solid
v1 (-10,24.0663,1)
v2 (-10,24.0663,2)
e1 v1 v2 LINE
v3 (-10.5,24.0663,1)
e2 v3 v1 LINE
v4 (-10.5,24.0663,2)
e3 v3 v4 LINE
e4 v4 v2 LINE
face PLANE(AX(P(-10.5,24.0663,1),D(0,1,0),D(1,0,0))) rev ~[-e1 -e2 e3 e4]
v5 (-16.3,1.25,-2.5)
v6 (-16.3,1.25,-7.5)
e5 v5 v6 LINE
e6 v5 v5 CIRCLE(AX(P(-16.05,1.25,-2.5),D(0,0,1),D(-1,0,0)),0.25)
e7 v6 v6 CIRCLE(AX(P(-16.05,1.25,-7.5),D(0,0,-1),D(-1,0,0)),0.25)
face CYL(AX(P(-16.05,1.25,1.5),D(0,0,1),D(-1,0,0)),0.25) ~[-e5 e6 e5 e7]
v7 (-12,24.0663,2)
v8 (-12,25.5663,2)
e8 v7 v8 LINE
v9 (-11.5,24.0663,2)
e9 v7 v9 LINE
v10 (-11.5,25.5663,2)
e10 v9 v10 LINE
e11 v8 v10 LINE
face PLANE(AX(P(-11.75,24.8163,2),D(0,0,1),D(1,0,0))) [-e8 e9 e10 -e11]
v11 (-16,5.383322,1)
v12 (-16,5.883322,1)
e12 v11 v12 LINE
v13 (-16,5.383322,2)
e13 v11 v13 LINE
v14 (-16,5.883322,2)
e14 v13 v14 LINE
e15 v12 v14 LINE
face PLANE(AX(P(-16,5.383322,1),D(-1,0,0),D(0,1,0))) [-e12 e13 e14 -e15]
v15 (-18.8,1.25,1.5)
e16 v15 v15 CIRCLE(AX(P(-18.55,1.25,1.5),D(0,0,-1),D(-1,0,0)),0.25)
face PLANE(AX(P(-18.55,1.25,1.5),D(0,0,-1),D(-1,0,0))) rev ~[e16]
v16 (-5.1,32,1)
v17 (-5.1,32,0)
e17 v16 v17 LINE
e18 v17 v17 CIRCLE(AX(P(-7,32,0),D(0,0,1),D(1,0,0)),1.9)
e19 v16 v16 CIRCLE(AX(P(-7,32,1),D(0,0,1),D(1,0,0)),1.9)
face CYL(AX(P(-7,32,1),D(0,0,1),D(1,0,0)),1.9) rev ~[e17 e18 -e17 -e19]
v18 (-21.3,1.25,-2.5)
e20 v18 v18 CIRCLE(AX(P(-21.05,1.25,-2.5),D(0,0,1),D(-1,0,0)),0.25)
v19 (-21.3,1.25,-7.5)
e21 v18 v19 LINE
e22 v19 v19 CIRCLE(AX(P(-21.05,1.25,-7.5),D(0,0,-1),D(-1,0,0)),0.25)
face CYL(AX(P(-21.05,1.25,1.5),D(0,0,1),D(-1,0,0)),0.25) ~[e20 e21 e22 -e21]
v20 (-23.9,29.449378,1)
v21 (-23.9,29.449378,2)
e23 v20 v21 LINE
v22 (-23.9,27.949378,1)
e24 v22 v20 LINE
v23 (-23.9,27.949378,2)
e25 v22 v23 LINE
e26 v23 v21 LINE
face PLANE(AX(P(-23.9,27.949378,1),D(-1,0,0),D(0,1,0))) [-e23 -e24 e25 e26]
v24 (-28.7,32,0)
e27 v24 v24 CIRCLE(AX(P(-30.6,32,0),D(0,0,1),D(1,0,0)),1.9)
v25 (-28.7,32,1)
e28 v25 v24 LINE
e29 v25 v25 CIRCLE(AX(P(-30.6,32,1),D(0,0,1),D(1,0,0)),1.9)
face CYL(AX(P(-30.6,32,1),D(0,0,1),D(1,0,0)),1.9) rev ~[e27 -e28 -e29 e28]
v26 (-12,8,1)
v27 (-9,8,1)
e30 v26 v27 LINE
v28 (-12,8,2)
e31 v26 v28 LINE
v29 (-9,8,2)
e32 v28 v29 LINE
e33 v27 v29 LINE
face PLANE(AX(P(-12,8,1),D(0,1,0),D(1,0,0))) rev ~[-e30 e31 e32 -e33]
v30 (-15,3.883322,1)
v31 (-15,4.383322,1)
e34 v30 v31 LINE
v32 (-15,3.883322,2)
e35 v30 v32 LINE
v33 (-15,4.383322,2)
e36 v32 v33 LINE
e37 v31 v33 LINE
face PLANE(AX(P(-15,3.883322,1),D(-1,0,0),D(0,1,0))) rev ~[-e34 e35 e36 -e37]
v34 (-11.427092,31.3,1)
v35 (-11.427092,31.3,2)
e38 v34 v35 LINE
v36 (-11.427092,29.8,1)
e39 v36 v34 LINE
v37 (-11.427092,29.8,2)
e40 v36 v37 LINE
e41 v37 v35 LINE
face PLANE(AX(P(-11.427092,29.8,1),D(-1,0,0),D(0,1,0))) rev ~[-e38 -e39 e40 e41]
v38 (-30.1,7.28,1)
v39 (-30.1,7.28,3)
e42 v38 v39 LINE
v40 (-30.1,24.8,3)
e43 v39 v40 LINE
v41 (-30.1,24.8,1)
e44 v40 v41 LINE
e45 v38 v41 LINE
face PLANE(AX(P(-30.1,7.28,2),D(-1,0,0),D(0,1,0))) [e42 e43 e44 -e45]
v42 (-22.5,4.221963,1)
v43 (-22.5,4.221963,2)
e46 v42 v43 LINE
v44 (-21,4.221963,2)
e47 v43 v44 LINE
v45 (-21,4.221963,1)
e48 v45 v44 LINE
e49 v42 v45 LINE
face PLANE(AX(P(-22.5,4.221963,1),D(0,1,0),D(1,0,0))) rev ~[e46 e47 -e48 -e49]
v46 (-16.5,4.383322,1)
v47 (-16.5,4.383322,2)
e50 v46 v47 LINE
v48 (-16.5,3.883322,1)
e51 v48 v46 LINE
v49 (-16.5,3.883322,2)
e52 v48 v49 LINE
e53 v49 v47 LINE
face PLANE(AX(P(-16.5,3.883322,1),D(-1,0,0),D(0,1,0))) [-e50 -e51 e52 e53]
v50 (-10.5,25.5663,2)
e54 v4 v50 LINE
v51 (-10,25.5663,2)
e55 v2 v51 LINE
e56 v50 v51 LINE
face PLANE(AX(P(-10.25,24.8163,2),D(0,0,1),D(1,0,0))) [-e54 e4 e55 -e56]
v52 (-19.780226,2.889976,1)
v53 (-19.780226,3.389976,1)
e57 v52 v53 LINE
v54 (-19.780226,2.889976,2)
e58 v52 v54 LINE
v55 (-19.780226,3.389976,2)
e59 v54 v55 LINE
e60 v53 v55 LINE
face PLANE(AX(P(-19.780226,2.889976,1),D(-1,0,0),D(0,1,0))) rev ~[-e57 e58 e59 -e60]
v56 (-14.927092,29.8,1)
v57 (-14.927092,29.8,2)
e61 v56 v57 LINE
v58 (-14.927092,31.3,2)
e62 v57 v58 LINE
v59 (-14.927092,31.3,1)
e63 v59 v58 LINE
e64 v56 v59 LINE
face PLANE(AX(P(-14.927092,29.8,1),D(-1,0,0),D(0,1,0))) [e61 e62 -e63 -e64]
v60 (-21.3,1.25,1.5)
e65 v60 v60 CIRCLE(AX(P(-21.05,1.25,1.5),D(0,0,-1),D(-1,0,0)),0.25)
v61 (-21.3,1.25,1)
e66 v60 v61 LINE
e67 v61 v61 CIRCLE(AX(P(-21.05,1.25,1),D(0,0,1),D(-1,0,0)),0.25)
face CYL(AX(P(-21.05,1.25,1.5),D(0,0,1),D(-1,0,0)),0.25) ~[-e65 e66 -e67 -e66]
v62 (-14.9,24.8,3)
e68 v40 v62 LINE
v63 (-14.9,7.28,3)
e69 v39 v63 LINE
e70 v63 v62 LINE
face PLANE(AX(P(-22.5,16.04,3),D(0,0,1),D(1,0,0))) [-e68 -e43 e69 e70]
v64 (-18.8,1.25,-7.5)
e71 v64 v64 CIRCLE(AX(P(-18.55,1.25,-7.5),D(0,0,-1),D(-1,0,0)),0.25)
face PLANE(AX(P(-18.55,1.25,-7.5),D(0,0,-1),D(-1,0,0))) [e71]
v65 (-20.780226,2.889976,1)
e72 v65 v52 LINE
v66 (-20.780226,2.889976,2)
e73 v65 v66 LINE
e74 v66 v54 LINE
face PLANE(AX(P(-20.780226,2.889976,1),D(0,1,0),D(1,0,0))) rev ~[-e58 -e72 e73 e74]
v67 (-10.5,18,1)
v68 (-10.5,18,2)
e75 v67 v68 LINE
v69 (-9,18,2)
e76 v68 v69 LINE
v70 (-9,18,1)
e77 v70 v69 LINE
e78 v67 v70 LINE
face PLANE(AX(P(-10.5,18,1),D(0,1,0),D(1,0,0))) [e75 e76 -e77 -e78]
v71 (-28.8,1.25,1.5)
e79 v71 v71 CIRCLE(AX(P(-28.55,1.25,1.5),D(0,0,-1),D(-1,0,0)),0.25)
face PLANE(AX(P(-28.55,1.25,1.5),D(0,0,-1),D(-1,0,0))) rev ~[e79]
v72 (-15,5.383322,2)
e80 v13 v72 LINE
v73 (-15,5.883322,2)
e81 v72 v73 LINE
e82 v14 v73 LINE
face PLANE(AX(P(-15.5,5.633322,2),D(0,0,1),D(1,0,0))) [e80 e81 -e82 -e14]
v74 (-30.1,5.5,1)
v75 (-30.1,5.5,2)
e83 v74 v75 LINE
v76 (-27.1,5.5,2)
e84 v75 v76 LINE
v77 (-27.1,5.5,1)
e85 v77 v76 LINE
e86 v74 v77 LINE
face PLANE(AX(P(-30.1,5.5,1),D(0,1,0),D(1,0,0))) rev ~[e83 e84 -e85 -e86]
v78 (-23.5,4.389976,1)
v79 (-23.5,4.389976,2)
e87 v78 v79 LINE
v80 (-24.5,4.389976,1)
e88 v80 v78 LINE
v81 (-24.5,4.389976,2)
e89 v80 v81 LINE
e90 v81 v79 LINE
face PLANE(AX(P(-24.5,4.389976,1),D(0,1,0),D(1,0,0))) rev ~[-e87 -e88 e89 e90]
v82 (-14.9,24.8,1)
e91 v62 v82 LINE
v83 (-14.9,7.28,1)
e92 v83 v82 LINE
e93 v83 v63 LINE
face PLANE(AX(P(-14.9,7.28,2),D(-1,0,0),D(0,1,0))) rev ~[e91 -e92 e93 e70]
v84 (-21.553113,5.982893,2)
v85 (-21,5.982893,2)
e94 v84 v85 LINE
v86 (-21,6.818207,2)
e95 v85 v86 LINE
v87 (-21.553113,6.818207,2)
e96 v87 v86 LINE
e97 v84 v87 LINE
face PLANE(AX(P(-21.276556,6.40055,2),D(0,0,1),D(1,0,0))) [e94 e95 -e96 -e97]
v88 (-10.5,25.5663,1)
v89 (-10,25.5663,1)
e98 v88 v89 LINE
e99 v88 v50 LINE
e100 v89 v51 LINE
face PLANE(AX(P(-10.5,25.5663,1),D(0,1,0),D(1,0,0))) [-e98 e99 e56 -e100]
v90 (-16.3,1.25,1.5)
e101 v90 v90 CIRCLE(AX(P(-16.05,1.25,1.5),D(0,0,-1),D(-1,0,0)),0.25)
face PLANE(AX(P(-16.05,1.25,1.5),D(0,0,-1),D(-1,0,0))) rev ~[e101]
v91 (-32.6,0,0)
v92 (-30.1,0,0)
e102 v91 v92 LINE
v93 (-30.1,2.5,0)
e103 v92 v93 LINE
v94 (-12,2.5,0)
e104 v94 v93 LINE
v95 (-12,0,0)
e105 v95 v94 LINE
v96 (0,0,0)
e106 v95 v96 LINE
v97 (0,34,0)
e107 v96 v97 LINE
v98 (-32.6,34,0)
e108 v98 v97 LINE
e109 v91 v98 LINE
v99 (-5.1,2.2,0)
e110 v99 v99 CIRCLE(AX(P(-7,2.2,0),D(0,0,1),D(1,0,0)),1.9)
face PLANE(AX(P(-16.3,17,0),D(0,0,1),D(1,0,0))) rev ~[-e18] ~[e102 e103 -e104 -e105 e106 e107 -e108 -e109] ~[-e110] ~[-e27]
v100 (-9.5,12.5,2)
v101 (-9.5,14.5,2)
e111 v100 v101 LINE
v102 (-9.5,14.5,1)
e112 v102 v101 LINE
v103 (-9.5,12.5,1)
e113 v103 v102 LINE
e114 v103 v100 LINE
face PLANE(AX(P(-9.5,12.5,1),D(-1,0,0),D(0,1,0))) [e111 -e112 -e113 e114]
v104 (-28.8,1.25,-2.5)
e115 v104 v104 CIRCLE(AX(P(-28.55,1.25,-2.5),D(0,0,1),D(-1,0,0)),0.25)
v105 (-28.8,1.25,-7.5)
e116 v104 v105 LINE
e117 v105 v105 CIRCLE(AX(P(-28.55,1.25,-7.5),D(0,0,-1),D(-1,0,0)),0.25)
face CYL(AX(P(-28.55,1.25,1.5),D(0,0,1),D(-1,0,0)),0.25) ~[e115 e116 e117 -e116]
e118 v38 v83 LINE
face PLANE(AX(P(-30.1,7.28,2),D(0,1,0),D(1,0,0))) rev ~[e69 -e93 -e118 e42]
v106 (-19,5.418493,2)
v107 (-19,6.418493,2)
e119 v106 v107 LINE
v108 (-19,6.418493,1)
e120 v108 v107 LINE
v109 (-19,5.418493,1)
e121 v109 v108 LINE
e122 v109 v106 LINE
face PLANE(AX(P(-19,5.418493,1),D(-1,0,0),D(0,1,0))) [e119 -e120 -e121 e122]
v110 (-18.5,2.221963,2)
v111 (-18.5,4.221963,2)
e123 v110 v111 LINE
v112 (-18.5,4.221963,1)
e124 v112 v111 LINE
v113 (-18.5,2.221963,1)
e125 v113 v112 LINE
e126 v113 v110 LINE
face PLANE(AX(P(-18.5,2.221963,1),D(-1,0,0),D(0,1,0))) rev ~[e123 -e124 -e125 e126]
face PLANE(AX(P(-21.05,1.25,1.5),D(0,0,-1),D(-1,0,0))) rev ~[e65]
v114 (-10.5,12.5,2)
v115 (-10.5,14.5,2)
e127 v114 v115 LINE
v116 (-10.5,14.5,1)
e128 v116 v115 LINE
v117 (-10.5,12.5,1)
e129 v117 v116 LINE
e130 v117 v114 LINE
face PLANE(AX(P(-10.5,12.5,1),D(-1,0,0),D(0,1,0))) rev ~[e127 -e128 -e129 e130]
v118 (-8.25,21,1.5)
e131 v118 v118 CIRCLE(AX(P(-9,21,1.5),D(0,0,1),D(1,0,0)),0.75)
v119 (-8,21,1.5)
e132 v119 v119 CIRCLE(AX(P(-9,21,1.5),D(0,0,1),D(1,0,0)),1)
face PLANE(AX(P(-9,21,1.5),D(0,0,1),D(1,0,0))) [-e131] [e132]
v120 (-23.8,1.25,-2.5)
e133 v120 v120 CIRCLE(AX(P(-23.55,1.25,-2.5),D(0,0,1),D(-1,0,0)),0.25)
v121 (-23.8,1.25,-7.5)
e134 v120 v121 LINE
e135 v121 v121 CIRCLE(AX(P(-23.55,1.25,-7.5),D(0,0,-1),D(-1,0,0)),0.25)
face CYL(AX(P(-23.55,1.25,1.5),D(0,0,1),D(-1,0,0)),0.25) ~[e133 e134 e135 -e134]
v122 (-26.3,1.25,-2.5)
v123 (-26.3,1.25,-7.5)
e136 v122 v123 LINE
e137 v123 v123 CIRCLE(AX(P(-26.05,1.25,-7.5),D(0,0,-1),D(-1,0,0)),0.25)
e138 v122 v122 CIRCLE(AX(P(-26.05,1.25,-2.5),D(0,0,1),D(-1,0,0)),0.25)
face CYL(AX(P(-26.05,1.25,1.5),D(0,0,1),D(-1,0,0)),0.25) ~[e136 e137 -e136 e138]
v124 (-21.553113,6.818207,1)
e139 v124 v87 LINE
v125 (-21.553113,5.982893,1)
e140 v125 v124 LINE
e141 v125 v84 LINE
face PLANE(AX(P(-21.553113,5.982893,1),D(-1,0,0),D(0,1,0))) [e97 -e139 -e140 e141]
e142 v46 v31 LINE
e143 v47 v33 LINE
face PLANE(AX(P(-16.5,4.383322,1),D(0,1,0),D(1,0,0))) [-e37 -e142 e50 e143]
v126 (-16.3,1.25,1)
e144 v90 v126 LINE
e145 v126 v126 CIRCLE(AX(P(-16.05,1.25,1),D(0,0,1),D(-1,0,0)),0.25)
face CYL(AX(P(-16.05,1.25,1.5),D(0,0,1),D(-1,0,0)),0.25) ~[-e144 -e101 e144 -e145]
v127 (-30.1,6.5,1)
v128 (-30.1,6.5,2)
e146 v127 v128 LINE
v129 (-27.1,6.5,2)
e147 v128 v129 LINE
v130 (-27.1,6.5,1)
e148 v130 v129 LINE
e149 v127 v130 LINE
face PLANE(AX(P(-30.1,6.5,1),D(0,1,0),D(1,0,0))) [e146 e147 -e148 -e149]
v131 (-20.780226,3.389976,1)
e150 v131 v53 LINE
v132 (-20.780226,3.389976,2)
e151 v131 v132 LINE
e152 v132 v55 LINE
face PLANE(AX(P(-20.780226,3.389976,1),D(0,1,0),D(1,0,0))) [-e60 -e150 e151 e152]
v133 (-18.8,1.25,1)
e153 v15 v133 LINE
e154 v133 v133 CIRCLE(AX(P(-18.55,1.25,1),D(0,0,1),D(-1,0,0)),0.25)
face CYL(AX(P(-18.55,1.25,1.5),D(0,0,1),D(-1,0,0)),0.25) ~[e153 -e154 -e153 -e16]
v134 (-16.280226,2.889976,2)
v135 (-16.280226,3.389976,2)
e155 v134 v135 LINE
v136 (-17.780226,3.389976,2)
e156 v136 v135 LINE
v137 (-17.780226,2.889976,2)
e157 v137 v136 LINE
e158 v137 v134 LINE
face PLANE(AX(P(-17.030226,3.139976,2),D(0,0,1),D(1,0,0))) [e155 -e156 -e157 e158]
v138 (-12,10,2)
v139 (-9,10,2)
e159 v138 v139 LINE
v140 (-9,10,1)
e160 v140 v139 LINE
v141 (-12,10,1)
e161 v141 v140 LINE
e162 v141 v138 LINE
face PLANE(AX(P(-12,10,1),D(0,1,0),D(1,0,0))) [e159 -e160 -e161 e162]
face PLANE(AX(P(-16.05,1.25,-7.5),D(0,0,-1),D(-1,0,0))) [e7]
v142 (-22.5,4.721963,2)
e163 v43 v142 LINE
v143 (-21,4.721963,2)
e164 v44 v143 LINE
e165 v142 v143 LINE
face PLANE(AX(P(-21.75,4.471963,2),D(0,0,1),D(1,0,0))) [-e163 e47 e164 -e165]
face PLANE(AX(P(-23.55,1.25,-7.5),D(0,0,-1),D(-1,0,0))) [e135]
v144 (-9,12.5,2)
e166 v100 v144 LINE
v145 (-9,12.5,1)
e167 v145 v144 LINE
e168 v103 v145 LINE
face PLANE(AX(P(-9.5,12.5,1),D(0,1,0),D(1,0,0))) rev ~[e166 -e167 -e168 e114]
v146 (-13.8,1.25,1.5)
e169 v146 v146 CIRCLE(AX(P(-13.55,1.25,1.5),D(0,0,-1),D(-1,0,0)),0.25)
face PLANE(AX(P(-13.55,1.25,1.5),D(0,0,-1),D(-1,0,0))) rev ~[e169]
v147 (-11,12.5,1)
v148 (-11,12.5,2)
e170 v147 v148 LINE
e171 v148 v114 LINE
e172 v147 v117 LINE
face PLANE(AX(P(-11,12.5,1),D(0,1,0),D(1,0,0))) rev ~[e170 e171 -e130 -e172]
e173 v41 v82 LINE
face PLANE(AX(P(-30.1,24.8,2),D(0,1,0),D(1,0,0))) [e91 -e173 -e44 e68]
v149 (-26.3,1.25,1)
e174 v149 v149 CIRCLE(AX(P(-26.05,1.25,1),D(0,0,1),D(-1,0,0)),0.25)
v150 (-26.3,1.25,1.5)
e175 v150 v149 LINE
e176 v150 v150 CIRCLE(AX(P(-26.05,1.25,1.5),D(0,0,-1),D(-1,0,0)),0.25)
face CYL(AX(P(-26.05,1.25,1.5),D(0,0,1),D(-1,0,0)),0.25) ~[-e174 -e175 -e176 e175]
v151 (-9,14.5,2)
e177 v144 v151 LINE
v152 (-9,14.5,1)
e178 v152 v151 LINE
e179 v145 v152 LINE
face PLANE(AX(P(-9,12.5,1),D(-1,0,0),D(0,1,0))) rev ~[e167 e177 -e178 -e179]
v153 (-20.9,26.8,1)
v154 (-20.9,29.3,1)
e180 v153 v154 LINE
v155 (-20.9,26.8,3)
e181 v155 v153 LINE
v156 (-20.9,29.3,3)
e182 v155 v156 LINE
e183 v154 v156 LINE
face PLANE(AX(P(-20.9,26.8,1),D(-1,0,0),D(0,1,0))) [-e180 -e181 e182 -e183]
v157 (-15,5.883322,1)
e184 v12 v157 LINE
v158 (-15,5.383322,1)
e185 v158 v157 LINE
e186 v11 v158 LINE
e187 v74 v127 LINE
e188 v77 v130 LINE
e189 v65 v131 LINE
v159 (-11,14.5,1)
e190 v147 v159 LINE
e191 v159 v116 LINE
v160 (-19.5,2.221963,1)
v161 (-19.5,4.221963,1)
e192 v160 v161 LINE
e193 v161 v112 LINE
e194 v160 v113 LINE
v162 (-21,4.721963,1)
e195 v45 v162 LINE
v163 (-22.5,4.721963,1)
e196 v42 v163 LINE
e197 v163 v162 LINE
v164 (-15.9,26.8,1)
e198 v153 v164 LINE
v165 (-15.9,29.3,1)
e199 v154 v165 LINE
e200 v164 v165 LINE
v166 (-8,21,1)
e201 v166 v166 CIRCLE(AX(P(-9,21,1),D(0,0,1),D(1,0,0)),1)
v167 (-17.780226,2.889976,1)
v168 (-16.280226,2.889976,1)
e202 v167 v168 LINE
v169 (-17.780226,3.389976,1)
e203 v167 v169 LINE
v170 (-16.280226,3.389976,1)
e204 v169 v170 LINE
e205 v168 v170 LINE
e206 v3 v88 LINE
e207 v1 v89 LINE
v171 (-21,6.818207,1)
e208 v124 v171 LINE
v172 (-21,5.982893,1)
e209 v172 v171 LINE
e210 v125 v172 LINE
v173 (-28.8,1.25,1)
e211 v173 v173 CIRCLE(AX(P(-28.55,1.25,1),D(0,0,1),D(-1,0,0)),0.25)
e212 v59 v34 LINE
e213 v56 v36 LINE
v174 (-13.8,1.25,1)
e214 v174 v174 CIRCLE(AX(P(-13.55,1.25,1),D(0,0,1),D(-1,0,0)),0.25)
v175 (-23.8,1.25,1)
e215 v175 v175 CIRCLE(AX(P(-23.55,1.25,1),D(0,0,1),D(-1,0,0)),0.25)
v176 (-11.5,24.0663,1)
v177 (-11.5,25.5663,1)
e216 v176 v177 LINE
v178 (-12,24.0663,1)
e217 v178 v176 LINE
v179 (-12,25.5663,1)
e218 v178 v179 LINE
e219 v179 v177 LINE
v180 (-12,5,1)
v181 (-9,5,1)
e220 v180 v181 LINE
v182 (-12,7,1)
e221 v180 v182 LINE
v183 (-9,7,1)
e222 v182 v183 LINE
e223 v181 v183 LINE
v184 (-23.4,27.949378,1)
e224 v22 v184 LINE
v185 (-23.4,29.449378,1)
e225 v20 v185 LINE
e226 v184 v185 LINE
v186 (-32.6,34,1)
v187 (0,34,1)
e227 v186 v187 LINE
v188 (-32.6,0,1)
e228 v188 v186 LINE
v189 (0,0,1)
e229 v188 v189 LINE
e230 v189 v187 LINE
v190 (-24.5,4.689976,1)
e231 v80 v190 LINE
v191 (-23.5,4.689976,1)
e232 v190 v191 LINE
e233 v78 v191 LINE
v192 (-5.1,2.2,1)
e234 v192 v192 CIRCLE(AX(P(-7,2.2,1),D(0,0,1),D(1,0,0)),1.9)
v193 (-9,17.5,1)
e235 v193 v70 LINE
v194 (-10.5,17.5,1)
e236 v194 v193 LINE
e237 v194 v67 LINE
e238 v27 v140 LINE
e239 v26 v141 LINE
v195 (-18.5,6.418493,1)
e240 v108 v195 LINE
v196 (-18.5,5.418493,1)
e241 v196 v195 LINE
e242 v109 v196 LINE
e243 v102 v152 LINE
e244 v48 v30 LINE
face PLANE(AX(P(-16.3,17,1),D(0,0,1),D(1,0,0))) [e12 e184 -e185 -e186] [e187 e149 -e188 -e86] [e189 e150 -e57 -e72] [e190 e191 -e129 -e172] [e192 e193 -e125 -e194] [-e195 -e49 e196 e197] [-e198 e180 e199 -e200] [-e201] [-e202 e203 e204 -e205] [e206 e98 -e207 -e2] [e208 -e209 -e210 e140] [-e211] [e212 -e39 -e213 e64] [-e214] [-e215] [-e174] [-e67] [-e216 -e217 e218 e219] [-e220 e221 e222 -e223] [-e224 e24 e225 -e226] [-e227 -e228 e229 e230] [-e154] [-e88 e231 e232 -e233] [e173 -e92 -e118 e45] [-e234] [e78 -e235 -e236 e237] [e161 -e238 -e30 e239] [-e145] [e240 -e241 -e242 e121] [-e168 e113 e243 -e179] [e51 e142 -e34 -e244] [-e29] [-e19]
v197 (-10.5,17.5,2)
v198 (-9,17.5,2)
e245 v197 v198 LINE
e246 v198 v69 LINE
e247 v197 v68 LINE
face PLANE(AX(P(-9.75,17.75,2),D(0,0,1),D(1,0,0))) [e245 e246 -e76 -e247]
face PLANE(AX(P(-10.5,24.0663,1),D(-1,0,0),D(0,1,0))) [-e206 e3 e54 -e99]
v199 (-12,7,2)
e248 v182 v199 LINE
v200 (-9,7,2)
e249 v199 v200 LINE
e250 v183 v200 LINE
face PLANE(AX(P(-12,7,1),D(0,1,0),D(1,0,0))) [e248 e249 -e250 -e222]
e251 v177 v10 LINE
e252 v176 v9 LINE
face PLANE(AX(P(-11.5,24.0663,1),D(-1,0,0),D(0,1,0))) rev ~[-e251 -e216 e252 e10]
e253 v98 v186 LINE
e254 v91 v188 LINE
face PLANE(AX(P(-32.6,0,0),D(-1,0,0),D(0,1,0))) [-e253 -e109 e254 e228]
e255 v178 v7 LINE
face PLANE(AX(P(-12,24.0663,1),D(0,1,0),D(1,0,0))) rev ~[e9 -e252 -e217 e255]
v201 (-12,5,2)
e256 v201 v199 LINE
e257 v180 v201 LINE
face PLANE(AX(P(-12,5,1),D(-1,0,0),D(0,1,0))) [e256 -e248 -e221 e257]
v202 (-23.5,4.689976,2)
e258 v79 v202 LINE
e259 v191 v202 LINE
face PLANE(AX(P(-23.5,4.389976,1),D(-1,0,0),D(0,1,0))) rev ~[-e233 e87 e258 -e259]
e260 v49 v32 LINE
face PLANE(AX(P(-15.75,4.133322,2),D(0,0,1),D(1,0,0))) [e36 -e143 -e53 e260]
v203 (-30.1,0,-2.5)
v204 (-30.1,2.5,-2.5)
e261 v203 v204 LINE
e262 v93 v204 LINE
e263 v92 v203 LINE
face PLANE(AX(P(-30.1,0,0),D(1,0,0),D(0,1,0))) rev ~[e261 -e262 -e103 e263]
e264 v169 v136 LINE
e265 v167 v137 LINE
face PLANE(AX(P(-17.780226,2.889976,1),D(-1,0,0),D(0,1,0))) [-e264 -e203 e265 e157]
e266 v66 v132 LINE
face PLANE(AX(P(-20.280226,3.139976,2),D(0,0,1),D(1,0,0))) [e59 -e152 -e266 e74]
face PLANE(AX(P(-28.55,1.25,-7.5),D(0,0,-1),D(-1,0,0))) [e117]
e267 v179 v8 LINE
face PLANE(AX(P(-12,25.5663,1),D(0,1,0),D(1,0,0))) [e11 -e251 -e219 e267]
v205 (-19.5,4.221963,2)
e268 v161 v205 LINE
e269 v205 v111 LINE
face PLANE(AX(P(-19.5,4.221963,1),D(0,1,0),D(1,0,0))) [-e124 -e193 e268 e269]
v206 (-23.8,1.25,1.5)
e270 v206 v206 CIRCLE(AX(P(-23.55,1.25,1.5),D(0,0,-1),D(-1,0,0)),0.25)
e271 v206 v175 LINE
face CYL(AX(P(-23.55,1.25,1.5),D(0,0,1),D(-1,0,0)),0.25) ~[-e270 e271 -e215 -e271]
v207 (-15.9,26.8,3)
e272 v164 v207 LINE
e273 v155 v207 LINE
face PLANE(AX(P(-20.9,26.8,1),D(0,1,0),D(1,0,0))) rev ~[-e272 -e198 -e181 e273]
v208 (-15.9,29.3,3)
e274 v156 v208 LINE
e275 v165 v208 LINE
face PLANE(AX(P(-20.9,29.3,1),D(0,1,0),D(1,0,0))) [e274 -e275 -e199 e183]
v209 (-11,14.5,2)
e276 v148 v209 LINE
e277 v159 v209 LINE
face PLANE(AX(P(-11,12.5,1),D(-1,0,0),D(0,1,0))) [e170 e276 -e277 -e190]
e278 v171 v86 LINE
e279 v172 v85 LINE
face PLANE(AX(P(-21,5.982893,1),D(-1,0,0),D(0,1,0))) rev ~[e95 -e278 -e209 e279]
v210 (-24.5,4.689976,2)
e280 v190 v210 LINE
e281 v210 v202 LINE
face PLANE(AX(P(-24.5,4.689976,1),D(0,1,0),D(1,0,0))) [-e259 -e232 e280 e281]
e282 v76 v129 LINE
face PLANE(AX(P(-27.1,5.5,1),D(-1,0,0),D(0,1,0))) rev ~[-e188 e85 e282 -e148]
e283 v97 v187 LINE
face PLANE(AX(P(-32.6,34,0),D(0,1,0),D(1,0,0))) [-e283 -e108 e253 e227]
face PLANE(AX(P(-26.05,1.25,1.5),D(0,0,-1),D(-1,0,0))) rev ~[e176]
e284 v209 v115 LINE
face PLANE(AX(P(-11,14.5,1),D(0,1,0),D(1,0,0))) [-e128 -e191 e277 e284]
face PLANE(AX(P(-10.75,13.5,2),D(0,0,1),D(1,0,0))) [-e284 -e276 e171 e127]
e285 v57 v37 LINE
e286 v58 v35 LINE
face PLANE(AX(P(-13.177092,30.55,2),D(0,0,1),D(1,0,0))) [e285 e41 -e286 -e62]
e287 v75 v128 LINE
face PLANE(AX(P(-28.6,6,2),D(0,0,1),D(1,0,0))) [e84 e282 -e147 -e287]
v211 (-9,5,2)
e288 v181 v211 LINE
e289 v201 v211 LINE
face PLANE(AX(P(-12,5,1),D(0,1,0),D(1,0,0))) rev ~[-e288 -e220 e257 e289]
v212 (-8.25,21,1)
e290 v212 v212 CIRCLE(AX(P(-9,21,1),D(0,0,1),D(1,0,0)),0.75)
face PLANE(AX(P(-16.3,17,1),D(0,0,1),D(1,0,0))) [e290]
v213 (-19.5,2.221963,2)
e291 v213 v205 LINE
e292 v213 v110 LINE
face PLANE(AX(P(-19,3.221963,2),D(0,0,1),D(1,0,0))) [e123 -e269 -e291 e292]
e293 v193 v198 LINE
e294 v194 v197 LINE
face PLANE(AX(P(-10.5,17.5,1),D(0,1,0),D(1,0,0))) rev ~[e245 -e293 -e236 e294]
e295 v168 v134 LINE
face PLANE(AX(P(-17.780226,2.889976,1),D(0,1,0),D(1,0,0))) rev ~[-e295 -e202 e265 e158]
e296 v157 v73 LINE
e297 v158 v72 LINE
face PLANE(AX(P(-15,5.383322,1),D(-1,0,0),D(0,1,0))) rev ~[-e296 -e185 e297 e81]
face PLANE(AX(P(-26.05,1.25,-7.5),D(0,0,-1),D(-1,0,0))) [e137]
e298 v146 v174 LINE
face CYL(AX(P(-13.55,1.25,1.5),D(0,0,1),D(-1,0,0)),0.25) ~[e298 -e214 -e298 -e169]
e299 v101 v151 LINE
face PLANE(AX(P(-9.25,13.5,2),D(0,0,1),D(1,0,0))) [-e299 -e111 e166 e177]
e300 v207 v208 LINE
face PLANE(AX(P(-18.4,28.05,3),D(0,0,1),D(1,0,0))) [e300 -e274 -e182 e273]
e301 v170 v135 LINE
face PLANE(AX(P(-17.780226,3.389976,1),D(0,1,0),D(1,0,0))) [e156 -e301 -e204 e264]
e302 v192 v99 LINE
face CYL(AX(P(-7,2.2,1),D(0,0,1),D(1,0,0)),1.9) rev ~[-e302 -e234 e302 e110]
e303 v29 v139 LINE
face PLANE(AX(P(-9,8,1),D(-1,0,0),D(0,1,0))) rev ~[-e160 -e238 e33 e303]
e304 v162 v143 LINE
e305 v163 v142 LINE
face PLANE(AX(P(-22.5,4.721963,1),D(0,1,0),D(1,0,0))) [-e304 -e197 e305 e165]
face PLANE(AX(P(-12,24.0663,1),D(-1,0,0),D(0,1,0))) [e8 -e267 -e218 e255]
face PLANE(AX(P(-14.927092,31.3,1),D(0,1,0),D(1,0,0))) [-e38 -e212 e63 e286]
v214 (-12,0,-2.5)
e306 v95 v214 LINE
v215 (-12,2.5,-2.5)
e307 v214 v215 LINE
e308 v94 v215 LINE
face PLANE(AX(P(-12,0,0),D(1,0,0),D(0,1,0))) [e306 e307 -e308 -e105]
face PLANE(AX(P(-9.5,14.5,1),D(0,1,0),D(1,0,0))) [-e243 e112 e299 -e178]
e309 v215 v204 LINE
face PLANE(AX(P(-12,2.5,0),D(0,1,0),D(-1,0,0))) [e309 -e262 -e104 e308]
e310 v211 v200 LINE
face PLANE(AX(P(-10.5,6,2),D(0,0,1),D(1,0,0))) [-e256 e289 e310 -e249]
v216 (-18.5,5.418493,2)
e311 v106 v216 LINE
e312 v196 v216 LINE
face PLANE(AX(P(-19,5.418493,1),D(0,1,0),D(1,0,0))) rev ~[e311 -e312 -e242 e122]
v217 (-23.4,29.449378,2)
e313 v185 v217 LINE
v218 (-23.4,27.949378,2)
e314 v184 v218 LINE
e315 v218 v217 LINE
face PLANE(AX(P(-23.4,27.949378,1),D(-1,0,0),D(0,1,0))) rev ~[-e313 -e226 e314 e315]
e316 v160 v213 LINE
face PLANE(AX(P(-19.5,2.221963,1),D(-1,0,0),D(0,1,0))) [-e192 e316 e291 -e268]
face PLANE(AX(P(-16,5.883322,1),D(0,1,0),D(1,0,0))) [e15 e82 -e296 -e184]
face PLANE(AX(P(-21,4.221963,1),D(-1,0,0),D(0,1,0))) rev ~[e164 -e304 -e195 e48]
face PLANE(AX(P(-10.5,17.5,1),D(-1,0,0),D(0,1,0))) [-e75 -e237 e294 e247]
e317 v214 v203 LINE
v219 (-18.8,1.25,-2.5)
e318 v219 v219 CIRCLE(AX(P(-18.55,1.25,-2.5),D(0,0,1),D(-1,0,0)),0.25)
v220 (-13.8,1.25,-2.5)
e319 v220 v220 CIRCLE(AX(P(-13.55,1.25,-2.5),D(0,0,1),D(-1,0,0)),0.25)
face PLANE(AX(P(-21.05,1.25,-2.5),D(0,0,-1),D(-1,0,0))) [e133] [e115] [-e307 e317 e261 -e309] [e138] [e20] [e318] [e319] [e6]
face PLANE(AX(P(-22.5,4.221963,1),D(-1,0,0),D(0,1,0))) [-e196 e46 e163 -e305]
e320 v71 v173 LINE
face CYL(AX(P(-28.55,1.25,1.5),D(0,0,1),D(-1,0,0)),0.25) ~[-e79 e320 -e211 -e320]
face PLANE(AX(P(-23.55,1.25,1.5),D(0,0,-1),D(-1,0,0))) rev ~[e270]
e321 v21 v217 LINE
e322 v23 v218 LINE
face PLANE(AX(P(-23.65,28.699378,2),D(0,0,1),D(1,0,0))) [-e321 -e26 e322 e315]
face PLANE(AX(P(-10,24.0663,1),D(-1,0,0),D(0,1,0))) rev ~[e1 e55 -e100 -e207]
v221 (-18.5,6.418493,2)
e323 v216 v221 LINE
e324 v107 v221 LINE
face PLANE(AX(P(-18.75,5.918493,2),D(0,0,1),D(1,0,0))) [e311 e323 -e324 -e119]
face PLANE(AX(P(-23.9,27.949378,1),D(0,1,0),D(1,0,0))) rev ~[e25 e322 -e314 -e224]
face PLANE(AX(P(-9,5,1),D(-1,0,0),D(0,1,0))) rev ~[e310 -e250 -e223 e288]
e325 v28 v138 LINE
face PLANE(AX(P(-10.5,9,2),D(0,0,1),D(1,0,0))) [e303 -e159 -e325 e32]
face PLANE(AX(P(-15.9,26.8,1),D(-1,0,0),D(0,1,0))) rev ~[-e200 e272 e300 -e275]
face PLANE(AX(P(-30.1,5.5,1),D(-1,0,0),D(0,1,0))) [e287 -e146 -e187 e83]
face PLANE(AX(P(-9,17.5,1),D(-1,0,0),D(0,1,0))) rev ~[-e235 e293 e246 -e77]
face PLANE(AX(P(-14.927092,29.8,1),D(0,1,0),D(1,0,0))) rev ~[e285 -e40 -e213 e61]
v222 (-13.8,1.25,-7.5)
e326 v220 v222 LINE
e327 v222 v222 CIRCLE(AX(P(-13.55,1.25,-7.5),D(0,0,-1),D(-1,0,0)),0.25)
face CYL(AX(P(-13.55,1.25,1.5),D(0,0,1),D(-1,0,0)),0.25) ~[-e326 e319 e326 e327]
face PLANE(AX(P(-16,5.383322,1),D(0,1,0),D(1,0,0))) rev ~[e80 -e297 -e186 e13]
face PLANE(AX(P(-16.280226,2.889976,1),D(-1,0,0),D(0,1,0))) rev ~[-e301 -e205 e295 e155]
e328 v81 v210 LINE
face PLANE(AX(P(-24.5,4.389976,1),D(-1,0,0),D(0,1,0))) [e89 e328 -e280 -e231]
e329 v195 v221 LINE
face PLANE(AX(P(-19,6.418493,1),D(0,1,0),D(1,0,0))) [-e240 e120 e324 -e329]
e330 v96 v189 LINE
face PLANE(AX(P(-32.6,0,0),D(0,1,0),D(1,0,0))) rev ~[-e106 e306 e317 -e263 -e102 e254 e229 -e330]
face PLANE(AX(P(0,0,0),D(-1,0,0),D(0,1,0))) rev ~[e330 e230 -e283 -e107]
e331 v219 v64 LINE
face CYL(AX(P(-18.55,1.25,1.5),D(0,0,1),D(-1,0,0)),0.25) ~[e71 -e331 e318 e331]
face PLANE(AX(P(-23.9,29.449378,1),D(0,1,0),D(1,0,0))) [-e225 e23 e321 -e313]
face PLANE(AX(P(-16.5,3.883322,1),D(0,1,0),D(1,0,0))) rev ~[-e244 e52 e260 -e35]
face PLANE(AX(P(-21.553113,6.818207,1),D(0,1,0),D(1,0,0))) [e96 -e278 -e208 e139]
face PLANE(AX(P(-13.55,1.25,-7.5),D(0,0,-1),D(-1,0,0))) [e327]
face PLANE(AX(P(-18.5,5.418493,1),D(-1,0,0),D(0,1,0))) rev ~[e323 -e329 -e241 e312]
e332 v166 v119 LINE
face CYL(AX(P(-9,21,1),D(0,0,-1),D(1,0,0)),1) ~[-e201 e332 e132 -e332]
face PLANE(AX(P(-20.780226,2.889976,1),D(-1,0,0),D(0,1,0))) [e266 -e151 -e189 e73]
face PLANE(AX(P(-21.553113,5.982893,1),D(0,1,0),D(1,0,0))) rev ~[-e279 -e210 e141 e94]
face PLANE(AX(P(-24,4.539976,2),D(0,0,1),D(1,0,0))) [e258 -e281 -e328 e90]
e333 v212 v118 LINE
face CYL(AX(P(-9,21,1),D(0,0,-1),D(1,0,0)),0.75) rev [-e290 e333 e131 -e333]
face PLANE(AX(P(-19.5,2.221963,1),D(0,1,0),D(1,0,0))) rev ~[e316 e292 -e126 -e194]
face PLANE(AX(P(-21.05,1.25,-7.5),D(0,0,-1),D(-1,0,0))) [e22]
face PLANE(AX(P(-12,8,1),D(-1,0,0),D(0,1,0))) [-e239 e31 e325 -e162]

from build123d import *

# Parameters (mm, degrees)
ESQUISSE1_W             = 32.6
ESQUISSE1_H             = 34
BOSS_EXTRU_1_DEPTH      = 1
ESQUISSE2_W             = 5
ESQUISSE2_H             = 2.5
ESQUISSE2_W_2           = 15.2
ESQUISSE2_H_2           = 17.52
ESQUISSE2_W_3           = 3
ESQUISSE2_H_3           = 1
ESQUISSE2_H_4           = 2
BOSS_EXTRU_2_DEPTH      = 1
ESQUISSE3_W             = 15.2
ESQUISSE3_H             = 17.52
ESQUISSE3_W_2           = 5
ESQUISSE3_H_2           = 2.5
BOSS_EXTRU_3_DEPTH      = 1
ESQUISSE4_W             = 0.5
ESQUISSE4_H             = 2
ESQUISSE4_W_2           = 1.5
ESQUISSE4_H_2           = 0.5
ESQUISSE4_H_3           = 1.5
ESQUISSE4_W_3           = 3.5
ESQUISSE4_W_4           = 1
ESQUISSE4_H_4           = 1
ESQUISSE4_H_5           = 0.3
ESQUISSE4_W_5           = 0.553112931
ESQUISSE4_H_6           = 0.835313405
BOSS_EXTRU_4_DEPTH      = 1
ESQUISSE5_R             = 1
ESQUISSE5_R_2           = 0.75
BOSS_EXTRU_5_DEPTH      = 0.5
ESQUISSE6_R             = 1.9
ENL_V_MAT_EXTRU_1_DEPTH = 8.5
ESQUISSE7_W             = 18.1
ESQUISSE7_H             = 2.5
BOSS_EXTRU_6_DEPTH      = 2.5
BOSS_EXTRU_7_DEPTH      = 5
BOSS_EXTRU_7_DEPTH_BACK = 4
ESQUISSE8_R             = 0.25


with BuildPart() as part:
    # Esquisse1 → Boss.-Extru.1 (new body)
    with BuildSketch(Plane.XY):
        with Locations((-16.3, 17)):
            Rectangle(ESQUISSE1_W, ESQUISSE1_H)
    extrude(amount=BOSS_EXTRU_1_DEPTH)

    # Esquisse2 → Boss.-Extru.2 (add)
    with BuildSketch(Plane.XY.offset(1)):
        with Locations((-18.4, 28.05)):
            Rectangle(ESQUISSE2_W, ESQUISSE2_H)
        with Locations((-22.5, 16.04)):
            Rectangle(ESQUISSE2_W_2, ESQUISSE2_H_2)
        with Locations((-28.6, 6)):
            Rectangle(ESQUISSE2_W_3, ESQUISSE2_H_3)
        with Locations((-10.5, 9)):
            Rectangle(ESQUISSE2_W_3, ESQUISSE2_H_4)
        with Locations((-10.5, 6)):
            Rectangle(ESQUISSE2_W_3, ESQUISSE2_H_4)
    extrude(amount=BOSS_EXTRU_2_DEPTH)

    # Esquisse3 → Boss.-Extru.3 (add)
    with BuildSketch(Plane.XY.offset(2)):
        with Locations((-22.5, 16.04)):
            Rectangle(ESQUISSE3_W, ESQUISSE3_H)
        with Locations((-18.4, 28.05)):
            Rectangle(ESQUISSE3_W_2, ESQUISSE3_H_2)
    extrude(amount=BOSS_EXTRU_3_DEPTH)

    # Esquisse4 → Boss.-Extru.4 (add)
    with BuildSketch(Plane.XY.offset(1)):
        with Locations((-9.25, 13.5)):
            Rectangle(ESQUISSE4_W, ESQUISSE4_H)
        with Locations((-10.75, 13.5)):
            Rectangle(ESQUISSE4_W, ESQUISSE4_H)
        with Locations((-9.75, 17.75)):
            Rectangle(ESQUISSE4_W_2, ESQUISSE4_H_2)
        with Locations((-10.25, 24.816299889)):
            Rectangle(ESQUISSE4_W, ESQUISSE4_H_3)
        with Locations((-11.75, 24.816299889)):
            Rectangle(ESQUISSE4_W, ESQUISSE4_H_3)
        with Locations((-13.17709205, 30.55)):
            Rectangle(ESQUISSE4_W_3, ESQUISSE4_H_3)
        with Locations((-23.65, 28.699378422)):
            Rectangle(ESQUISSE4_W, ESQUISSE4_H_3)
        with Locations((-15.5, 5.633321931)):
            Rectangle(ESQUISSE4_W_4, ESQUISSE4_H_2)
        with Locations((-15.75, 4.133321931)):
            Rectangle(ESQUISSE4_W_2, ESQUISSE4_H_2)
        with Locations((-19, 3.221962501)):
            Rectangle(ESQUISSE4_W_4, ESQUISSE4_H)
        with Locations((-18.75, 5.918492514)):
            Rectangle(ESQUISSE4_W, ESQUISSE4_H_4)
        with Locations((-17.030226104, 3.13997626)):
            Rectangle(ESQUISSE4_W_2, ESQUISSE4_H_2)
        with Locations((-20.280226104, 3.13997626)):
            Rectangle(ESQUISSE4_W_4, ESQUISSE4_H_2)
        with Locations((-21.75, 4.471962501)):
            Rectangle(ESQUISSE4_W_2, ESQUISSE4_H_2)
        with Locations((-24, 4.53997626)):
            Rectangle(ESQUISSE4_W_4, ESQUISSE4_H_5)
        with Locations((-21.276556466, 6.400550167)):
            Rectangle(ESQUISSE4_W_5, ESQUISSE4_H_6)
    extrude(amount=BOSS_EXTRU_4_DEPTH)

    # Esquisse5 → Boss.-Extru.5 (add)
    with BuildSketch(Plane.XY.offset(1)):
        with Locations((-9, 21)):
            Circle(ESQUISSE5_R)
        with Locations((-9, 21)):
            Circle(ESQUISSE5_R_2, mode=Mode.SUBTRACT)
    extrude(amount=BOSS_EXTRU_5_DEPTH)

    # Esquisse6 → Enlèv. mat.-Extru.1 (cut)
    with BuildSketch(Plane.XY.offset(1)):
        with Locations((-30.6, 32)):
            Circle(ESQUISSE6_R)
        with Locations((-7, 32)):
            Circle(ESQUISSE6_R)
        with Locations((-7, 2.2)):
            Circle(ESQUISSE6_R)
    extrude(amount=-ENL_V_MAT_EXTRU_1_DEPTH, mode=Mode.SUBTRACT)

    # Esquisse7 → Boss.-Extru.6 (add)
    with BuildSketch(Plane(origin=(0, 0, 0), x_dir=(-1, 0, 0), z_dir=(0, 0, -1))):
        with Locations((21.05, 1.25)):
            Rectangle(ESQUISSE7_W, ESQUISSE7_H)
    extrude(amount=BOSS_EXTRU_6_DEPTH)

    # Esquisse8 → Boss.-Extru.7 (add, two sides: drawn at the far end of the back side and taken through both)
    with BuildSketch(Plane(origin=(0, 0, -2.5), x_dir=(-1, 0, 0), z_dir=(0, 0, -1)).offset(-BOSS_EXTRU_7_DEPTH_BACK)):
        with Locations((13.55, 1.25)):
            Circle(ESQUISSE8_R)
        with Locations((16.05, 1.25)):
            Circle(ESQUISSE8_R)
        with Locations((18.55, 1.25)):
            Circle(ESQUISSE8_R)
        with Locations((21.05, 1.25)):
            Circle(ESQUISSE8_R)
        with Locations((23.55, 1.25)):
            Circle(ESQUISSE8_R)
        with Locations((26.05, 1.25)):
            Circle(ESQUISSE8_R)
        with Locations((28.55, 1.25)):
            Circle(ESQUISSE8_R)
    extrude(amount=BOSS_EXTRU_7_DEPTH + BOSS_EXTRU_7_DEPTH_BACK)


solid = part.part
